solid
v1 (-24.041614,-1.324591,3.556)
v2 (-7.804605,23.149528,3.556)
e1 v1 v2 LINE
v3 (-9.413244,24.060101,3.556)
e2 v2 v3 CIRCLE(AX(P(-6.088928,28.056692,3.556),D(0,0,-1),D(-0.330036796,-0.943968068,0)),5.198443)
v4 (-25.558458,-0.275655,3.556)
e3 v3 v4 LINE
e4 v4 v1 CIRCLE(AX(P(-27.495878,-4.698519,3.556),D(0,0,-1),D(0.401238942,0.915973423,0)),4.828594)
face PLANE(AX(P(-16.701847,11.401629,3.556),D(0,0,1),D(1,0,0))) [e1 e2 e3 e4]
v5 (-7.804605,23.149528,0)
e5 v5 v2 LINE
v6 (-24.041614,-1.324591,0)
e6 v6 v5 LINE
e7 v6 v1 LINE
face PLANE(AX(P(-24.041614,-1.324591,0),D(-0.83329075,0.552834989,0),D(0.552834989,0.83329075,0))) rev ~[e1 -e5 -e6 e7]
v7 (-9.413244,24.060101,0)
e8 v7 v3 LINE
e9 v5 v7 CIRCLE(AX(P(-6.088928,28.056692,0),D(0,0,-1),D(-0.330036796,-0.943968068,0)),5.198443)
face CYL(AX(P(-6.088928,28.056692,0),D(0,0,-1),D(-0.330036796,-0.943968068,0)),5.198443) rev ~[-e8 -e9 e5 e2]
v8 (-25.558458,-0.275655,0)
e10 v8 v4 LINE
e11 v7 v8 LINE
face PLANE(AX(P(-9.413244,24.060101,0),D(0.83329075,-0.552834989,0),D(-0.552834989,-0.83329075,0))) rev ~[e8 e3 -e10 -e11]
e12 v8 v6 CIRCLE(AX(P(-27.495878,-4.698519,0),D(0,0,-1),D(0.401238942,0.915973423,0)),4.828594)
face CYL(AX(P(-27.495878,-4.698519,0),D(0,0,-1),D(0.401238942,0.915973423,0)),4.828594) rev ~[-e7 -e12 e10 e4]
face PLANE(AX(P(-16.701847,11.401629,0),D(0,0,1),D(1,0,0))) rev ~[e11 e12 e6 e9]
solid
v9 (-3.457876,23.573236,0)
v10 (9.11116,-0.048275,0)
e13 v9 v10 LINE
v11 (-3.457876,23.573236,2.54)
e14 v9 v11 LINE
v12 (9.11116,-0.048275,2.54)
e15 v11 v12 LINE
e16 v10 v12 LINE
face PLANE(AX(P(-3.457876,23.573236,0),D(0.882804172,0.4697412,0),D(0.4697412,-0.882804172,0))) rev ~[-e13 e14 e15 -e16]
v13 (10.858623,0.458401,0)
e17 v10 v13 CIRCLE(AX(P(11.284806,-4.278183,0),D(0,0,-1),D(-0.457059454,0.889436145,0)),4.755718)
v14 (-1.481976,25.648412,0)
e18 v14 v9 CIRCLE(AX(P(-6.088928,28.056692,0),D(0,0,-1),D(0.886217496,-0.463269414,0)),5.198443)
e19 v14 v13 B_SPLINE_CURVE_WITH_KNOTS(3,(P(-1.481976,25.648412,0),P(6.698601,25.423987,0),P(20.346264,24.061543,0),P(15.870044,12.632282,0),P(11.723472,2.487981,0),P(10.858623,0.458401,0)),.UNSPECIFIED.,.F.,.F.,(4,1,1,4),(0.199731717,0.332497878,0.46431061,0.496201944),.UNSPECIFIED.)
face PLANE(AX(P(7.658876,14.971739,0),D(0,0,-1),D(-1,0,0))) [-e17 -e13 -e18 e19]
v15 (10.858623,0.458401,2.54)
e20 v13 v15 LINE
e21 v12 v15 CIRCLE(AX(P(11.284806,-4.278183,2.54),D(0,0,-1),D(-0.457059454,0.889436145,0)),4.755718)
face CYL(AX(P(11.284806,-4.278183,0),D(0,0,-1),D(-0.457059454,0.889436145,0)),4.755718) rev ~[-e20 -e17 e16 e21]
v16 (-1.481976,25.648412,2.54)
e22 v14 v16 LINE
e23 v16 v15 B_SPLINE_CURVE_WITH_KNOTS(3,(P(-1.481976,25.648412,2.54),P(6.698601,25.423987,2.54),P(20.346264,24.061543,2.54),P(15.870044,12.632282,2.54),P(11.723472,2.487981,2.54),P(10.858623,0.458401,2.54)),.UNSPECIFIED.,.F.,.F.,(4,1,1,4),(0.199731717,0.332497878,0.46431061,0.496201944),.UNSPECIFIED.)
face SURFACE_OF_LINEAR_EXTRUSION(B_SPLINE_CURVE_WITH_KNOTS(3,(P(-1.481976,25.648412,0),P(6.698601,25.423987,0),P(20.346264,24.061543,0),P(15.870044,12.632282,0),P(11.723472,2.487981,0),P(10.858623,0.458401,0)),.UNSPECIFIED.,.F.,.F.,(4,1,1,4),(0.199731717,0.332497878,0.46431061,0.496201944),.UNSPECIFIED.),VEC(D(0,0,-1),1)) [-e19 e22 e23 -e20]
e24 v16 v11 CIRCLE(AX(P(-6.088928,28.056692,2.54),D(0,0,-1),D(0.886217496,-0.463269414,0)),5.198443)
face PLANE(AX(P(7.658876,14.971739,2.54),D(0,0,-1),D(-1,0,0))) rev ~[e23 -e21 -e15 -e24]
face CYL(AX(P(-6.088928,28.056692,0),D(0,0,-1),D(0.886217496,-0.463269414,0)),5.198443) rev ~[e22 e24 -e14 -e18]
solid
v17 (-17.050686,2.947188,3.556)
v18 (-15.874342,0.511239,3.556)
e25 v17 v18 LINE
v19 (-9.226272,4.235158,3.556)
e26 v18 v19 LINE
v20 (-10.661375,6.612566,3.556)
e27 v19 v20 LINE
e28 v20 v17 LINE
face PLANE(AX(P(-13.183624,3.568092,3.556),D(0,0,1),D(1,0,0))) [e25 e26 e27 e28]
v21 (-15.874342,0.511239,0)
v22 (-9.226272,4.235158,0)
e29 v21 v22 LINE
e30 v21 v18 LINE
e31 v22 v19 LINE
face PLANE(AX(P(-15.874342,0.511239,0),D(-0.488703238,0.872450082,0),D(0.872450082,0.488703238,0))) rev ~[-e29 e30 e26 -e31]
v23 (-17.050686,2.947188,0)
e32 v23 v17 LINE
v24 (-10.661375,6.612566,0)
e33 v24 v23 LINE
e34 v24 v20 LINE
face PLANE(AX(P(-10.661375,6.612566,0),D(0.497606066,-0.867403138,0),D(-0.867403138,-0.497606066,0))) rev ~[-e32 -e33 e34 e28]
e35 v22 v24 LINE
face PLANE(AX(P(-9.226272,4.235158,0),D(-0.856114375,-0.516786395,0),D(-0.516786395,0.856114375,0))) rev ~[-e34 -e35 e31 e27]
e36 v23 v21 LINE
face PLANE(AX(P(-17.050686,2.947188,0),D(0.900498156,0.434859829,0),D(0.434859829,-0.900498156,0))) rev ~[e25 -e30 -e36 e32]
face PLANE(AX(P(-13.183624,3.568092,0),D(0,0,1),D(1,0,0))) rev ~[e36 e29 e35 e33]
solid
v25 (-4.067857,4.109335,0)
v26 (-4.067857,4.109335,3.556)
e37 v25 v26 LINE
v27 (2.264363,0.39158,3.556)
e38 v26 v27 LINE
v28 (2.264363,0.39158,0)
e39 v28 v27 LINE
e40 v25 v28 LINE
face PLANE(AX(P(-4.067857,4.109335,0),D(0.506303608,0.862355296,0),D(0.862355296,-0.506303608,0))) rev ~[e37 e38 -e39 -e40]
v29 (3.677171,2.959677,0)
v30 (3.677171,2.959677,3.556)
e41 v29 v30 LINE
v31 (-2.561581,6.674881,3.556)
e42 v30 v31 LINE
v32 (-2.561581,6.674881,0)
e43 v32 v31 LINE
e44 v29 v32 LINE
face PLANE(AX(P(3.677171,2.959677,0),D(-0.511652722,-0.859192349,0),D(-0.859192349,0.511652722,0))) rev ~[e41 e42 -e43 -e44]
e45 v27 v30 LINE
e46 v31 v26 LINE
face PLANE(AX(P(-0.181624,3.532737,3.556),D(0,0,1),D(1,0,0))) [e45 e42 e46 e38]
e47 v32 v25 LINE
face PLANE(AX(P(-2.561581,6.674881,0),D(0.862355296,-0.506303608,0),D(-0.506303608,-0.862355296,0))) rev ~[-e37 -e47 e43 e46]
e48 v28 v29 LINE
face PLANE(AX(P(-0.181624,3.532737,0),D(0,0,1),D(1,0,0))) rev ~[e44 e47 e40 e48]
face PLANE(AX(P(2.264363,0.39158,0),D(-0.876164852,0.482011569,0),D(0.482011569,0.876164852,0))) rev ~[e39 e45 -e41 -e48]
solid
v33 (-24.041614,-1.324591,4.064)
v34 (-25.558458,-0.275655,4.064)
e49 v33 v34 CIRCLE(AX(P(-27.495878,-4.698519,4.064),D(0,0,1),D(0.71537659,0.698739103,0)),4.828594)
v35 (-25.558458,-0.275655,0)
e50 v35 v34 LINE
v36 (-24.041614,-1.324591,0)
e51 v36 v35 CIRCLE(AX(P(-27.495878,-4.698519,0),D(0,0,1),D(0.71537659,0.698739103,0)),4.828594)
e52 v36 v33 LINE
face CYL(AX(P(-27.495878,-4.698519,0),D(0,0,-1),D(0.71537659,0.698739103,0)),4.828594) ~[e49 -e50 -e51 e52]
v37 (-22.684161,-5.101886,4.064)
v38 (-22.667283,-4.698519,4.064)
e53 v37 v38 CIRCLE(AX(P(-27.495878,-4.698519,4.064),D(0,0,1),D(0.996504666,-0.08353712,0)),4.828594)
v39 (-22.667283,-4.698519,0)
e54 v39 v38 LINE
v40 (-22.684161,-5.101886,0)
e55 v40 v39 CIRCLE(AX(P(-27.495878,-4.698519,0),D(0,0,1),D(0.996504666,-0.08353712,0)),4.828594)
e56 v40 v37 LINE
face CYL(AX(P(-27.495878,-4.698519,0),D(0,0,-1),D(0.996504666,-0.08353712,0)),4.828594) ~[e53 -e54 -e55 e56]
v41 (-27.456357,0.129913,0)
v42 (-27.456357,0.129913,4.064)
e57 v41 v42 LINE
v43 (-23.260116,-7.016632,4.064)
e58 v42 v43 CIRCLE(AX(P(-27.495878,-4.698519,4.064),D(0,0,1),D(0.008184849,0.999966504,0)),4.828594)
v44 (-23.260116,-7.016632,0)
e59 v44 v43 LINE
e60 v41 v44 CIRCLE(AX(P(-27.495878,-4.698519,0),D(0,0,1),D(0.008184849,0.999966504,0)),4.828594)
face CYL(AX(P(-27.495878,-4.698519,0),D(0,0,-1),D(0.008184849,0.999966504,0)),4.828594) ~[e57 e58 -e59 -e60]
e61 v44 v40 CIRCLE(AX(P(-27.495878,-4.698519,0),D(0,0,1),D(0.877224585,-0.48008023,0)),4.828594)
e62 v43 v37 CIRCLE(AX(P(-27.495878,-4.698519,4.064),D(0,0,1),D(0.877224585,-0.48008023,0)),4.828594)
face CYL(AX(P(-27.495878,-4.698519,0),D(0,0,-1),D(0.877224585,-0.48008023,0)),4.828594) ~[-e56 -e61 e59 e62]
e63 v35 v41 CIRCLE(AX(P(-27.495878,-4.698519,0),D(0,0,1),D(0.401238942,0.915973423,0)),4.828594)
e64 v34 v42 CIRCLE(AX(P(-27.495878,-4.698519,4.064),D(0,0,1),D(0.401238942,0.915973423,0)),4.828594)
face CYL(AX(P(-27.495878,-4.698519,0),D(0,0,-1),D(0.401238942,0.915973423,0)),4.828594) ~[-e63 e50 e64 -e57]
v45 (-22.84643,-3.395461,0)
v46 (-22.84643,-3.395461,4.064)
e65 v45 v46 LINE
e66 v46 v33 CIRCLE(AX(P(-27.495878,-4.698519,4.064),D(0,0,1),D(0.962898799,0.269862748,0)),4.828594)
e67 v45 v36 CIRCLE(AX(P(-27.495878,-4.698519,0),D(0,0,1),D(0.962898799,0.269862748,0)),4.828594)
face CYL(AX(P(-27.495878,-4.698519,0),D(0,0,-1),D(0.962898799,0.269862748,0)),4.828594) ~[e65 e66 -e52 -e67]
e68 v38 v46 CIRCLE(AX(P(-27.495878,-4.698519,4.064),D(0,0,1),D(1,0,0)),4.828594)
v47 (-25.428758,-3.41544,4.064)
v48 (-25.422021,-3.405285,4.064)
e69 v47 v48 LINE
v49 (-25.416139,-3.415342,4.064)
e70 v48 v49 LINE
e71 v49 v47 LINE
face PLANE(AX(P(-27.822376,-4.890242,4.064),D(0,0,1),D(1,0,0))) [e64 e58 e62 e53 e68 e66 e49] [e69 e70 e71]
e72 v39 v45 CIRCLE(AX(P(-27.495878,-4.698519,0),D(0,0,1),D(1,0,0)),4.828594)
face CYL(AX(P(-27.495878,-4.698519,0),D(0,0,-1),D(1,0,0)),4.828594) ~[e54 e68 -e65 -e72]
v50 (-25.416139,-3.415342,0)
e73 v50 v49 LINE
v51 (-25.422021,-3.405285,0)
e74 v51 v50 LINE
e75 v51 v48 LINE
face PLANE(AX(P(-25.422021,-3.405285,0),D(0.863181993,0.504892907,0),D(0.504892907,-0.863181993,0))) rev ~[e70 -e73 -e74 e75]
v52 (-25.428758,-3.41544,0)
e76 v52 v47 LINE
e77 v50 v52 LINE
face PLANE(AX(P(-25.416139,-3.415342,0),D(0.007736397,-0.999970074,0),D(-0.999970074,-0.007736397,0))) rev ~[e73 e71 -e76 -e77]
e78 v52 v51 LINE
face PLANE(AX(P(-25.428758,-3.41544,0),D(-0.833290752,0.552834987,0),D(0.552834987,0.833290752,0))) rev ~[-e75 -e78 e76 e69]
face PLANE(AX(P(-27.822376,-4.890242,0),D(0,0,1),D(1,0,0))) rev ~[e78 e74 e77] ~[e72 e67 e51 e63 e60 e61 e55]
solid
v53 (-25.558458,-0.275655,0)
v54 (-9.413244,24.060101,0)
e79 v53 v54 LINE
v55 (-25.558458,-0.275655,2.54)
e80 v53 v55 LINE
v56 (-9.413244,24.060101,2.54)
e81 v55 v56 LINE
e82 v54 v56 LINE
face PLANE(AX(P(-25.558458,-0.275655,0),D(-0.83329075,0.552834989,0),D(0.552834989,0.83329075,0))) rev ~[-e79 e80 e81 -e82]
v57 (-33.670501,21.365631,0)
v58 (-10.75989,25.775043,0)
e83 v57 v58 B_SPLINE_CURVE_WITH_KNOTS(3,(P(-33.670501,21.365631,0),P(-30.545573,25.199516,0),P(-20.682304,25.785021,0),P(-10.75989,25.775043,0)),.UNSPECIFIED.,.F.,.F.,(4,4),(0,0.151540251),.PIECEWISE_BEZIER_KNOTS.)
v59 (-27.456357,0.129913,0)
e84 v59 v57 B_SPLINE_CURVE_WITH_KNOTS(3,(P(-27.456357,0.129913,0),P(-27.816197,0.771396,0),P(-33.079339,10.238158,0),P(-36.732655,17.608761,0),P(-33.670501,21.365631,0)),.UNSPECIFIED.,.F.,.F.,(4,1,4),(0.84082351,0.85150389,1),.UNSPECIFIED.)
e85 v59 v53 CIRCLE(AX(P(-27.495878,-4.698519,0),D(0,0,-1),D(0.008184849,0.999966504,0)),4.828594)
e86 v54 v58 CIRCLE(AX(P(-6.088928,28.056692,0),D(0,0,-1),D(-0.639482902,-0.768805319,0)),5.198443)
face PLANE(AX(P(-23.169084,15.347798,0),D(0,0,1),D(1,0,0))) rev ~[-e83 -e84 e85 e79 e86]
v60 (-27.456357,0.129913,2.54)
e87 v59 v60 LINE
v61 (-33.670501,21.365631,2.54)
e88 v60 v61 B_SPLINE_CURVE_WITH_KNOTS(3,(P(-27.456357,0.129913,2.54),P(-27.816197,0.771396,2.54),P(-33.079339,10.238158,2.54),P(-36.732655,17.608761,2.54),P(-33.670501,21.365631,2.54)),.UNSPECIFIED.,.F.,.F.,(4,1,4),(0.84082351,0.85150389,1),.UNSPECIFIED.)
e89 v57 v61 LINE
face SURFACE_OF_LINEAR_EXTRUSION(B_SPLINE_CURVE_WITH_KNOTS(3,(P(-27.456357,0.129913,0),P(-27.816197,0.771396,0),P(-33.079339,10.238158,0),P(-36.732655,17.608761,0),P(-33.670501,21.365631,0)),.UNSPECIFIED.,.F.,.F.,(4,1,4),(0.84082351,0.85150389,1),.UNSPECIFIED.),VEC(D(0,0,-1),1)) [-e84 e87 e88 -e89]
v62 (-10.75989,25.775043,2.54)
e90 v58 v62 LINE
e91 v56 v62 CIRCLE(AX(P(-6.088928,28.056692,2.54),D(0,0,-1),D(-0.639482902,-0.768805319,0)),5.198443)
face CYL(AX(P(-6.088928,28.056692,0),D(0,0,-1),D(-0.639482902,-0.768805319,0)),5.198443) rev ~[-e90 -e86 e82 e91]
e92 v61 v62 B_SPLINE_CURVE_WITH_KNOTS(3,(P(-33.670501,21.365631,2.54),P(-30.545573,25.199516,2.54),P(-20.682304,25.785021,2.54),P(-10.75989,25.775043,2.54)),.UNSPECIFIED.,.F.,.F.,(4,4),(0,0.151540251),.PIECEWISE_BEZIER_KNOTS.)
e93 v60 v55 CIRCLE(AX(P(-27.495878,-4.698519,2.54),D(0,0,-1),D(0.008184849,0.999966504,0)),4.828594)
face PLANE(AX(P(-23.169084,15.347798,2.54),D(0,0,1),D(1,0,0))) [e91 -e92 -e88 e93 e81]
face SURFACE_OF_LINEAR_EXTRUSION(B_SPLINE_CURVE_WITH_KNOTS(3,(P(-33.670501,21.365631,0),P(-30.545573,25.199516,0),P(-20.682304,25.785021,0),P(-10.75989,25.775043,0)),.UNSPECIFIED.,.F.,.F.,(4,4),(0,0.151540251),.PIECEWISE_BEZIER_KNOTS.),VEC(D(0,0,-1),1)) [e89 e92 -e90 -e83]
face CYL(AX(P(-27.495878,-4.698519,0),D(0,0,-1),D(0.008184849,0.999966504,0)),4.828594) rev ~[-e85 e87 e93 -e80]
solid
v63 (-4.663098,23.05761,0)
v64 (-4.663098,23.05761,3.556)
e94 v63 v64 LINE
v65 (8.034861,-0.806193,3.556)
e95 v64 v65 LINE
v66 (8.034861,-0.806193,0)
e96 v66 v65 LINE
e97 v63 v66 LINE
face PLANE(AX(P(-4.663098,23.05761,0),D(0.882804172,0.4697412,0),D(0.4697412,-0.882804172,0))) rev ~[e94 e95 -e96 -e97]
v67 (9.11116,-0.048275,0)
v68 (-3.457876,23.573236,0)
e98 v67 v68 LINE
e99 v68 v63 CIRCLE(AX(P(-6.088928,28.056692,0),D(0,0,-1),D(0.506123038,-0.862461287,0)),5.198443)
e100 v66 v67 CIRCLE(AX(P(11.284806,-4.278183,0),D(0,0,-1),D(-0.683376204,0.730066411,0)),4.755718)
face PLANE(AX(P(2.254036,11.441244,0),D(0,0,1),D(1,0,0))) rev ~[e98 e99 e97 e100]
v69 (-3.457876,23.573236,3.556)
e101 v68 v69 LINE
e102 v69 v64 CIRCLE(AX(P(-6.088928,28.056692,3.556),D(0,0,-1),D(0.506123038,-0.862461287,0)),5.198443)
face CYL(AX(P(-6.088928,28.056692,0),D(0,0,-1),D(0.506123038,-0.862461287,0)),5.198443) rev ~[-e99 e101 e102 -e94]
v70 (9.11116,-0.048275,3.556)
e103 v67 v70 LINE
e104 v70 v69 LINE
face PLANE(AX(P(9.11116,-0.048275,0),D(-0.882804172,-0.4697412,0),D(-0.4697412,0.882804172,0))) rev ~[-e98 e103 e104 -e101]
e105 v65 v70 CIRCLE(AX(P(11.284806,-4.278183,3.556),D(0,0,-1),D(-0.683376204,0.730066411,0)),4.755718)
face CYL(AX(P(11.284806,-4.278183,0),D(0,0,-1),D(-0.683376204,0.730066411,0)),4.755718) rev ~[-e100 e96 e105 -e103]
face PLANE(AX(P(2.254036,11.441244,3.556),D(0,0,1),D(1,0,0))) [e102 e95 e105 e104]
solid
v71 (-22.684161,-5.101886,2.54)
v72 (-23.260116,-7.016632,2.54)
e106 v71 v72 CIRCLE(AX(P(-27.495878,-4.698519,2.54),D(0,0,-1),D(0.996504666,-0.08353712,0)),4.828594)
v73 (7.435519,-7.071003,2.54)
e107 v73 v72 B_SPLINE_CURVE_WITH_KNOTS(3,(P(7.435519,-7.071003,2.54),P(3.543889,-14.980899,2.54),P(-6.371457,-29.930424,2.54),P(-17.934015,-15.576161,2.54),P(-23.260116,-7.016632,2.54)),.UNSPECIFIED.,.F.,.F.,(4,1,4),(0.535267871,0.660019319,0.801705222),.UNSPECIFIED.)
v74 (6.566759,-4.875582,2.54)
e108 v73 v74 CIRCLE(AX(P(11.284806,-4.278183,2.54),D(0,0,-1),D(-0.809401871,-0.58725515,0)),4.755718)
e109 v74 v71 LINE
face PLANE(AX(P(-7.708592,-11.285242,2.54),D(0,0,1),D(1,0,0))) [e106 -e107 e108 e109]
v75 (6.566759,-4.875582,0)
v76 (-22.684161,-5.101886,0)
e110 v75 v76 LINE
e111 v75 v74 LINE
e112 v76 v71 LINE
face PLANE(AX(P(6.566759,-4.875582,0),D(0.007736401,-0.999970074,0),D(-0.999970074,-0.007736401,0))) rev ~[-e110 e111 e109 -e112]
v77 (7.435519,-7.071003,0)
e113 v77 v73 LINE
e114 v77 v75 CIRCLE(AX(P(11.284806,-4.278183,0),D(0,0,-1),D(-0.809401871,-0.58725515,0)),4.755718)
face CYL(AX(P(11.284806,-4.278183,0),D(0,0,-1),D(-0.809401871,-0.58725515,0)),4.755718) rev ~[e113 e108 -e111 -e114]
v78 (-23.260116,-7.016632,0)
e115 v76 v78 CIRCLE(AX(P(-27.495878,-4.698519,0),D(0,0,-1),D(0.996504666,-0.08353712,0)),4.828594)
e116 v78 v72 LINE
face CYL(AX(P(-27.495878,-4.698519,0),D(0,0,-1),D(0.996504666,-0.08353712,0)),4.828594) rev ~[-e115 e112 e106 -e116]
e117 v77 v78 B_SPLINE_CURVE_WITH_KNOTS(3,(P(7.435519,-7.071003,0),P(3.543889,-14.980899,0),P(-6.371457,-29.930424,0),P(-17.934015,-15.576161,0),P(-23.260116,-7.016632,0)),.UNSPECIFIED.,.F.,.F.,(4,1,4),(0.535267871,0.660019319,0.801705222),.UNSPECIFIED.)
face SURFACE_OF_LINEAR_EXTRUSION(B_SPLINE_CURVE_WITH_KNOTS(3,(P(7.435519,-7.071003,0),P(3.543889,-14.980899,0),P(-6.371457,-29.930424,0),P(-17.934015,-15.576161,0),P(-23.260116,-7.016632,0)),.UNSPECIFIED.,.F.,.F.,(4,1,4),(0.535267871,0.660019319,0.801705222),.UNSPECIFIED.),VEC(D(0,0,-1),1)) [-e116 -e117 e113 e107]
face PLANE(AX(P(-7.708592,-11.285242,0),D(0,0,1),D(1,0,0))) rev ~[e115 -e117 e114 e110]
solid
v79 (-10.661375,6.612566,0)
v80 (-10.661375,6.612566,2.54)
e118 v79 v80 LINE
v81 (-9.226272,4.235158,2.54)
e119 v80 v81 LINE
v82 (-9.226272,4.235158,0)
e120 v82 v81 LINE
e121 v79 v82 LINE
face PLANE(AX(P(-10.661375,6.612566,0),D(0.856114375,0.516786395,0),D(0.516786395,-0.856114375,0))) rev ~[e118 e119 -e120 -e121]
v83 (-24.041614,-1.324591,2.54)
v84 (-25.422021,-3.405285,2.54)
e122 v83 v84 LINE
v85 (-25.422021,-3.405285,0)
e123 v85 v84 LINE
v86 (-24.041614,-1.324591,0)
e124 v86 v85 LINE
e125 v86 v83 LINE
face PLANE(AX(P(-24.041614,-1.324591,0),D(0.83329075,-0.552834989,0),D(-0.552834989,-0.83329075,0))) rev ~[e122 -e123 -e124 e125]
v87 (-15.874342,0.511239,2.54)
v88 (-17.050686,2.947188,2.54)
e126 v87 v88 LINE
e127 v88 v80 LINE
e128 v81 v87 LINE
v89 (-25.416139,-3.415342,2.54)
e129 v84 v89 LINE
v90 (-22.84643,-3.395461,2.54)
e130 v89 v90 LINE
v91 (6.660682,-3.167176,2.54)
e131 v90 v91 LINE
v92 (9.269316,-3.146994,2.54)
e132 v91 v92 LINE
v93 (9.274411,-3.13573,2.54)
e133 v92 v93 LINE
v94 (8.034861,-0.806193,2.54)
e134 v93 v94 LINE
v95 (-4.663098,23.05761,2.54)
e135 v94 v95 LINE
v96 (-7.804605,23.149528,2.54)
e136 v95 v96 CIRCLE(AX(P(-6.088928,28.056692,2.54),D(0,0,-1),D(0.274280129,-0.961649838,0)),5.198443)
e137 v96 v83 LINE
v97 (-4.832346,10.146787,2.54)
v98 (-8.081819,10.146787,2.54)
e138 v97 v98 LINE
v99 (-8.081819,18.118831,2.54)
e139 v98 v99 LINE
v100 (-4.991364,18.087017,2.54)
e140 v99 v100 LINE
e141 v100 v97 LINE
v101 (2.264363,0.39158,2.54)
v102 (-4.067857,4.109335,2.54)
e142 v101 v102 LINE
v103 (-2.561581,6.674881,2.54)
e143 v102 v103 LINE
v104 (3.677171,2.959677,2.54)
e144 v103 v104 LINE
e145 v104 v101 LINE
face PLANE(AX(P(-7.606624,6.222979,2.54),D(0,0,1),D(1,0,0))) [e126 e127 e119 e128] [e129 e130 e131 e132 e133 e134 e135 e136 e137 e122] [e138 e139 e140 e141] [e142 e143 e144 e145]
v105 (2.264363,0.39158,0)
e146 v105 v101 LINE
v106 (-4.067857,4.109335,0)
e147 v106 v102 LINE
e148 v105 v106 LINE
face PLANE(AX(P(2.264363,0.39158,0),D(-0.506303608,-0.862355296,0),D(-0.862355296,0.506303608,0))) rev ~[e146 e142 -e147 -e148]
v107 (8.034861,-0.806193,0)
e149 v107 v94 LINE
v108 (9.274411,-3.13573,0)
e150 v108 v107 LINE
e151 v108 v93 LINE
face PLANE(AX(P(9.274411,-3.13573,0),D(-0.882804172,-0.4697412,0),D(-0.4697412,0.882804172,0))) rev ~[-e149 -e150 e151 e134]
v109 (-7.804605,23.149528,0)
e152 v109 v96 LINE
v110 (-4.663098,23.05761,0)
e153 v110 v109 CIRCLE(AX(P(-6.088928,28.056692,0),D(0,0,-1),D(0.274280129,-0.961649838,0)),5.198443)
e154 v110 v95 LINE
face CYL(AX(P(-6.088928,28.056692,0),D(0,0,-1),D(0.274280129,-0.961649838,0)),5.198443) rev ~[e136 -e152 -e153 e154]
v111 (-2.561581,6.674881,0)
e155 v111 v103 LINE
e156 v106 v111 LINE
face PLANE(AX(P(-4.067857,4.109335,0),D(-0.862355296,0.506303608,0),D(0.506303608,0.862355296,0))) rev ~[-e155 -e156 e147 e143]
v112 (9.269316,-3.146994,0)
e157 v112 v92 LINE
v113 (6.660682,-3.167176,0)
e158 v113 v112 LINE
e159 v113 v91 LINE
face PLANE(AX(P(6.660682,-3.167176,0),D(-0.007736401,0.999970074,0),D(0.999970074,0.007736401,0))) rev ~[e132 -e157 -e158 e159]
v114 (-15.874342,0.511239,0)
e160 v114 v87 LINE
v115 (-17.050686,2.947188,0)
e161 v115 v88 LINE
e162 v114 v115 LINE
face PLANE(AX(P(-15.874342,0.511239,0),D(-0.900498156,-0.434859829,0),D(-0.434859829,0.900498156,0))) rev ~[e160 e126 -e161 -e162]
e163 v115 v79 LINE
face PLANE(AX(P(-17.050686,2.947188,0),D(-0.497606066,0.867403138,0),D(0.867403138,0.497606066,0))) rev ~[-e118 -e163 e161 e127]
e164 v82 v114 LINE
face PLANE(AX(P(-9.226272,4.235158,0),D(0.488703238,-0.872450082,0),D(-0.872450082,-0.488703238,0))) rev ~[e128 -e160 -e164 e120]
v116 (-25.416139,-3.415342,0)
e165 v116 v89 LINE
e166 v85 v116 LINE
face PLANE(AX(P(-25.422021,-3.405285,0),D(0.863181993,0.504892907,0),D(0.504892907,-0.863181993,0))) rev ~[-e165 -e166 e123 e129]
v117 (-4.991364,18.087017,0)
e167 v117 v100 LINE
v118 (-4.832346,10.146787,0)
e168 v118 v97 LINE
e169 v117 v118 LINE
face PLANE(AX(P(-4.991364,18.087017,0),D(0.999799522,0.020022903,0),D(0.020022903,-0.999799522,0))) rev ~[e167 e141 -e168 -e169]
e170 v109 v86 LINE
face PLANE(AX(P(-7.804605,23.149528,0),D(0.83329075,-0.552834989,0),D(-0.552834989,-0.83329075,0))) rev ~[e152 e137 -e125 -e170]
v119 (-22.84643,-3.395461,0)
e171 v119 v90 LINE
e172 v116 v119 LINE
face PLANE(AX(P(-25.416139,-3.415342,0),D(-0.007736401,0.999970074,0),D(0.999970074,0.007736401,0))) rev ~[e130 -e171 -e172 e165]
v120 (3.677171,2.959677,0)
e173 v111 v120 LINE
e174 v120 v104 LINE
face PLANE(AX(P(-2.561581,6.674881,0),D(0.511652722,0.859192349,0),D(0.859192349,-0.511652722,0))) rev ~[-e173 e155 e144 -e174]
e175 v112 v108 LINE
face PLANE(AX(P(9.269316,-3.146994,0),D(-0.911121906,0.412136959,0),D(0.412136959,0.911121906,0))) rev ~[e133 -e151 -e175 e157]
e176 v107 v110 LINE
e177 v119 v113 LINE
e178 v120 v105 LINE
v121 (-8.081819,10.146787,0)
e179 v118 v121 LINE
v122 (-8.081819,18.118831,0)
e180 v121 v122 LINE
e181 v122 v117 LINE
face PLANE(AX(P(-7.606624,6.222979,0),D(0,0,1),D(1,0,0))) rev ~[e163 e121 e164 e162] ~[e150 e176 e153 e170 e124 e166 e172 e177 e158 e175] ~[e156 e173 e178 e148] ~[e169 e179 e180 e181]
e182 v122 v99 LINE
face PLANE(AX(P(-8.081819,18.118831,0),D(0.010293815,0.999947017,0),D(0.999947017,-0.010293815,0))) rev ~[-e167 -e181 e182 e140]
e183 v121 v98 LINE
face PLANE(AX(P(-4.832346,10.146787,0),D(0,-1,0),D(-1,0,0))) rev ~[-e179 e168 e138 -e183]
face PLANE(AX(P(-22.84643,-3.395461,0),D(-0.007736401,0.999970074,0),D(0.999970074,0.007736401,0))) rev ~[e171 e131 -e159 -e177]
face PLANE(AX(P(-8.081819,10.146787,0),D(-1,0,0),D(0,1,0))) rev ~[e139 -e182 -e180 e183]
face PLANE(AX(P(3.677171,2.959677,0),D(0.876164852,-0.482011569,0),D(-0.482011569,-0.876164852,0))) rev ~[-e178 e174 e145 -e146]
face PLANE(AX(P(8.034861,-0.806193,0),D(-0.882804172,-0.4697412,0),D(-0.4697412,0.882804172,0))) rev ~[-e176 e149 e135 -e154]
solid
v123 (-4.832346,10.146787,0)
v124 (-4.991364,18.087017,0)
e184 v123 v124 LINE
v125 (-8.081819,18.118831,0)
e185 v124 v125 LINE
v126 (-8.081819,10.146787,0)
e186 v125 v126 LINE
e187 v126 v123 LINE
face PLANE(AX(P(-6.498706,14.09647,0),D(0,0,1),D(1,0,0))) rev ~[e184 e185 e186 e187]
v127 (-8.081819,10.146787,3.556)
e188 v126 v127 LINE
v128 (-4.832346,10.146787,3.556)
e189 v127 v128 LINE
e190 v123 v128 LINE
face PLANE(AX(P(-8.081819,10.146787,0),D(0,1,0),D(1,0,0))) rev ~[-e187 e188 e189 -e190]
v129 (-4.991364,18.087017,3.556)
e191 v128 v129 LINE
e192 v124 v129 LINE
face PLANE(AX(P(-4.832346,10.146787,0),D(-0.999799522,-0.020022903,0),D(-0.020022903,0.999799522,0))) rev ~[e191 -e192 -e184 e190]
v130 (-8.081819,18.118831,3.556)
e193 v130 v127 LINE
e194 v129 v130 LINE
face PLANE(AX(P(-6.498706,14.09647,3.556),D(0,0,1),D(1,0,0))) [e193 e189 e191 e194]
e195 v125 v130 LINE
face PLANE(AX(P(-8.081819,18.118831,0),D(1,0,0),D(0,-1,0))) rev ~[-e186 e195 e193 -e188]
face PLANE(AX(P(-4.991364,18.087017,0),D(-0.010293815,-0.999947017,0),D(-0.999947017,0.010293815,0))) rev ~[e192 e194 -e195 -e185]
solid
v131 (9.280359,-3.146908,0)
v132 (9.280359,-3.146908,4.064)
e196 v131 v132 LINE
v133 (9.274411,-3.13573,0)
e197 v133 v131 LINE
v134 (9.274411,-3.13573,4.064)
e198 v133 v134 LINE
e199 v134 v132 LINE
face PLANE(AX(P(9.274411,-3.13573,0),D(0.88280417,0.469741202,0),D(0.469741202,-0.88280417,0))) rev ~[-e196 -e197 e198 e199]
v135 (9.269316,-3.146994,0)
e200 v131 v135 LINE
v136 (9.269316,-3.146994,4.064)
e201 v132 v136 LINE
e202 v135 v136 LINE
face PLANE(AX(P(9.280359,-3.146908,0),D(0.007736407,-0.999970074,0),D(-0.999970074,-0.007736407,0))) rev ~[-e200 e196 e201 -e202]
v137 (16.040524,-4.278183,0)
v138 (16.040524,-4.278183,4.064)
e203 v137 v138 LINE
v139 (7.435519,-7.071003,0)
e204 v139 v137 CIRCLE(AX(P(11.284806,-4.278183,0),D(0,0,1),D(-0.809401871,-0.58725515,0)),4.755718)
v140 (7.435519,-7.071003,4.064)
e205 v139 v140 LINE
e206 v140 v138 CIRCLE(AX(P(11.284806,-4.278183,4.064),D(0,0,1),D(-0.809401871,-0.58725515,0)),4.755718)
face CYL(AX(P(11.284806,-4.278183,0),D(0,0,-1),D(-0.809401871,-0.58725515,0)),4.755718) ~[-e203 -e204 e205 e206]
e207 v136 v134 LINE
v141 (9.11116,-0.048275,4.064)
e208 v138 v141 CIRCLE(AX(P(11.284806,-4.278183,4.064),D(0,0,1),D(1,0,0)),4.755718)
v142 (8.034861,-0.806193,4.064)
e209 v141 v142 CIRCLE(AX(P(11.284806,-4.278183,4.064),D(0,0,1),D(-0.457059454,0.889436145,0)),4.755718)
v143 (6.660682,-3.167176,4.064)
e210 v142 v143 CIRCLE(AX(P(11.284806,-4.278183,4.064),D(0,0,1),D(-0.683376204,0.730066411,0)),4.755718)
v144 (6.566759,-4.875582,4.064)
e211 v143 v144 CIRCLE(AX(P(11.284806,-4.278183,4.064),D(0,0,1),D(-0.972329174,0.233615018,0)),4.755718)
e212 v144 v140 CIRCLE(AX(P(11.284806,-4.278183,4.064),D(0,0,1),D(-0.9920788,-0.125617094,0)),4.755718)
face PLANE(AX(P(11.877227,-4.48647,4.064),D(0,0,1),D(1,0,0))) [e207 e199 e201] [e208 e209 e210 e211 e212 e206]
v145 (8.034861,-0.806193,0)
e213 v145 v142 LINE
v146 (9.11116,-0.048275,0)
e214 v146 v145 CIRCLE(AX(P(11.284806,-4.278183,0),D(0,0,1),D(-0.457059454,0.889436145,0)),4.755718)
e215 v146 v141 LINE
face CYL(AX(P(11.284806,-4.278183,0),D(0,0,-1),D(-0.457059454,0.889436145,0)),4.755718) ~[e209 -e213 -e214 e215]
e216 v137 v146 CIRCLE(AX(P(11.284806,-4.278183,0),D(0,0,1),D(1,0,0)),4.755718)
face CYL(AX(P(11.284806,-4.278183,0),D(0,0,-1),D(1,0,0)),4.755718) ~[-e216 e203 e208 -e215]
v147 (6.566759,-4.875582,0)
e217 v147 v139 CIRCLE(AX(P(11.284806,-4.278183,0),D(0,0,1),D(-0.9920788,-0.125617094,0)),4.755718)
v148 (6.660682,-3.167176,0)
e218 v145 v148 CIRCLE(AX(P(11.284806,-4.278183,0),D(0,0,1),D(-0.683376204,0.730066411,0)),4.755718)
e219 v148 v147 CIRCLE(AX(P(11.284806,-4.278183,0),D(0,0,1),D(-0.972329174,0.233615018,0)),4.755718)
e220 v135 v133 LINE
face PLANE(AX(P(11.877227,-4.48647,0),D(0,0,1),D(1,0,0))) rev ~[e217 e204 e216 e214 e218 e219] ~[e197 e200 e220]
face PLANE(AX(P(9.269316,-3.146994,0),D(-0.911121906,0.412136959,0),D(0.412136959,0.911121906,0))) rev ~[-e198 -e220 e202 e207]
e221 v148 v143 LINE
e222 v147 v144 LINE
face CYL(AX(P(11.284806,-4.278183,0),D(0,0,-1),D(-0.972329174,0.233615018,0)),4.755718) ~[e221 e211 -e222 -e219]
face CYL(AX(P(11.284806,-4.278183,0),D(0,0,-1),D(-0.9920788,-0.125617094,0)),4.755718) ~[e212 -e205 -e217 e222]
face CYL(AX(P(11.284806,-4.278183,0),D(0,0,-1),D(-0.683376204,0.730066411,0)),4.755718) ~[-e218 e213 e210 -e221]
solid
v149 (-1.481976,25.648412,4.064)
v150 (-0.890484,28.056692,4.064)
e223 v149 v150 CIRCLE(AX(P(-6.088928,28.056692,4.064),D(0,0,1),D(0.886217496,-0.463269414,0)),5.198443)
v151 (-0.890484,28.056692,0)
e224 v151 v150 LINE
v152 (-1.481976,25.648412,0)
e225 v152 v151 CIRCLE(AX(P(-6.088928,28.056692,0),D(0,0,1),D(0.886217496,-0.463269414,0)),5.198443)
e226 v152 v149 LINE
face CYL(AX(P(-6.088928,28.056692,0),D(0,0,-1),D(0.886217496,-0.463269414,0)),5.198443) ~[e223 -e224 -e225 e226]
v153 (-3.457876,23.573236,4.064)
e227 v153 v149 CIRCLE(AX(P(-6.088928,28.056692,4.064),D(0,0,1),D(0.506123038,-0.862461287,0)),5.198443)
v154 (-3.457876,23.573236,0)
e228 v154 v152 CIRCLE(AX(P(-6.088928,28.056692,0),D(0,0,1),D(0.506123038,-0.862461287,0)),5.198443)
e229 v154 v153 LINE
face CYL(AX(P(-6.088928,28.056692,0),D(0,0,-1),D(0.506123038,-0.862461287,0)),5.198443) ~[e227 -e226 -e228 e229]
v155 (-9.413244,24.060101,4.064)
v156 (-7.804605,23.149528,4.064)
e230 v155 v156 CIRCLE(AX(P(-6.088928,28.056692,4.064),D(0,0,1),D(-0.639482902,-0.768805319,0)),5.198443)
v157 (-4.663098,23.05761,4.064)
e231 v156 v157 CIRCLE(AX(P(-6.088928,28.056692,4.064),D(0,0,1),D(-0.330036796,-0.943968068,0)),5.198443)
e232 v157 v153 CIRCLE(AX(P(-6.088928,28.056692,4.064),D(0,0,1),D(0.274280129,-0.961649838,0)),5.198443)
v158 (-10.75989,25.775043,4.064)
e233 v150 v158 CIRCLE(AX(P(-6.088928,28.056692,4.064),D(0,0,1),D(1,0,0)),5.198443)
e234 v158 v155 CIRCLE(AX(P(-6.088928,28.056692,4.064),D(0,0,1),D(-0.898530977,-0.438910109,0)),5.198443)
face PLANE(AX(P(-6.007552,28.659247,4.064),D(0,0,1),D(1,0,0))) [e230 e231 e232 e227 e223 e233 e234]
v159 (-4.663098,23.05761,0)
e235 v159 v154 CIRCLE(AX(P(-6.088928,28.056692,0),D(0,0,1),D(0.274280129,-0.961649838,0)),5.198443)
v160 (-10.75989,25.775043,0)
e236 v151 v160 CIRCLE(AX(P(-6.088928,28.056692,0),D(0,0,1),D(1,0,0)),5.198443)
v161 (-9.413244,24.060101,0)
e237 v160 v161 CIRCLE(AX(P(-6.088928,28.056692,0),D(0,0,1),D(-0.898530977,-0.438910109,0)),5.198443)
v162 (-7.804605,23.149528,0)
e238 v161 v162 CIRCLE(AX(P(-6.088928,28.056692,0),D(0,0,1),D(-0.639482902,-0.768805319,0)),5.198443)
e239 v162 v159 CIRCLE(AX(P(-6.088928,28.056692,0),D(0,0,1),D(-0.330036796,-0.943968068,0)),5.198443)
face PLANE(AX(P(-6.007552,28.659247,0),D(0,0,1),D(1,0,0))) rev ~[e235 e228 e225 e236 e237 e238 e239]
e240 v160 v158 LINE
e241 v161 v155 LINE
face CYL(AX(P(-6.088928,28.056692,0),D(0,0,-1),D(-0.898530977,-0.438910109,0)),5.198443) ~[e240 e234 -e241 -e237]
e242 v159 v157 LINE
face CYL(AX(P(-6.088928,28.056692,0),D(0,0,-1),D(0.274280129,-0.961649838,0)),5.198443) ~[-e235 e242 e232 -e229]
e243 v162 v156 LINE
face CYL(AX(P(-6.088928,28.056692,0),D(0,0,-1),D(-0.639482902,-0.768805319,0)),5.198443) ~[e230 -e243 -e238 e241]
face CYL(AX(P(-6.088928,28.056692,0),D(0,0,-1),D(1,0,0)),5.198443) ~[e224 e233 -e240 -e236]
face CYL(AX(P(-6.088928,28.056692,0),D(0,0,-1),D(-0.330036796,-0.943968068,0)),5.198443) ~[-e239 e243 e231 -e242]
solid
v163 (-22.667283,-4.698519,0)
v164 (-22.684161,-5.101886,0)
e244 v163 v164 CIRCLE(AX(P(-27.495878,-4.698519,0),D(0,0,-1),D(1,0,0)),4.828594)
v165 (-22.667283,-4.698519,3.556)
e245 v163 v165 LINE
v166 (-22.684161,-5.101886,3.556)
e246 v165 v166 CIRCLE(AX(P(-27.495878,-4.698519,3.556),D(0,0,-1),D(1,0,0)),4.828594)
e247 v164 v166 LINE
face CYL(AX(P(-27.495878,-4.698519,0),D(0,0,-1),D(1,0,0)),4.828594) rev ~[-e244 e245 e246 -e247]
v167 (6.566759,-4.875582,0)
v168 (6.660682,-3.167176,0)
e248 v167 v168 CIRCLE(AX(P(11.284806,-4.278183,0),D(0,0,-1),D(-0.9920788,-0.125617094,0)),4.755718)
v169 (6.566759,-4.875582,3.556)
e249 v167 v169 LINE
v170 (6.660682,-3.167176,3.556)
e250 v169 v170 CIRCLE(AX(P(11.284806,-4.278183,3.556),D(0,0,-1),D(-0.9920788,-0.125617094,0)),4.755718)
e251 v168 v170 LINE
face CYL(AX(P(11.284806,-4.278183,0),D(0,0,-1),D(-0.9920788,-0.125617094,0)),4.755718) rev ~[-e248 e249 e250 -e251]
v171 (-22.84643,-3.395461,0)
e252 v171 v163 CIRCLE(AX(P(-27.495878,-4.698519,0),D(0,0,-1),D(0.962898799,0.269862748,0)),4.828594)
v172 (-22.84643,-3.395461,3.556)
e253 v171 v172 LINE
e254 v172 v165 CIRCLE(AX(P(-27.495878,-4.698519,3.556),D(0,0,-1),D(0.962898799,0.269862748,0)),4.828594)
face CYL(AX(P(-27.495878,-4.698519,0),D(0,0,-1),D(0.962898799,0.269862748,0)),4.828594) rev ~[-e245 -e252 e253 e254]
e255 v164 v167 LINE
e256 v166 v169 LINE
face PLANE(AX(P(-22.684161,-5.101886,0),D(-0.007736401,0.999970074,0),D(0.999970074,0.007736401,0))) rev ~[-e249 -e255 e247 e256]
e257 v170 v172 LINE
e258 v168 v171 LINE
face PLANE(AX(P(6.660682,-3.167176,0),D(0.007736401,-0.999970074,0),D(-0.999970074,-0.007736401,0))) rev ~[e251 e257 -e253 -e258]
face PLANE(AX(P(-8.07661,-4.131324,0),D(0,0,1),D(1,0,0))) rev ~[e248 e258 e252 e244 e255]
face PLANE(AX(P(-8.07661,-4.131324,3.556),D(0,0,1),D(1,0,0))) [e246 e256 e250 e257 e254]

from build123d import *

# Parameters (mm, degrees)
F1_DEPTH = 2.54
F2_DEPTH = 3.556
F3_DEPTH = 4.064


with BuildPart() as f1:
    # F0 (on Top) → F1 (new body)
    with BuildSketch(Plane.XY):
        with BuildLine():
            ThreePointArc((-4.6630981009, 23.0576099927), (-6.2409645721, 22.860472595), (-7.8046054884, 23.1495276747))
            Line((-7.8046054884, 23.1495276747), (-24.0416144553, -1.3245914444))
            ThreePointArc((-24.0416144553, -1.3245914444), (-23.3138138733, -2.2848777795), (-22.8464301162, -3.3954613901))
            Line((-22.8464301162, -3.3954613901), (6.6606822161, -3.1671756941))
            ThreePointArc((6.6606822161, -3.1671756941), (7.1745992451, -1.8858915335), (8.0348610996, -0.8061928003))
            Line((8.0348610996, -0.8061928003), (-4.6630981009, 23.0576099927))
        make_face()
        Polygon((-15.8743415506, 0.51123949), (-17.0506863953, 2.947188482), (-10.6613747776, 6.6125662997), (-9.2262719276, 4.2351581635), align=None, mode=Mode.SUBTRACT)
        Polygon((-4.0678573438, 4.1093348098), (-2.5615811887, 6.6748808586), (3.6771709565, 2.9596772511), (2.264362858, 0.3915795571), align=None, mode=Mode.SUBTRACT)
        Polygon((-8.0818189308, 10.1467873901), (-8.0818189308, 18.1188309025), (-4.9913643151, 18.0870166502), (-4.8323459923, 10.1467873901), align=None, mode=Mode.SUBTRACT)
        with BuildLine():
            Line((9.2744107453, -3.1357299984), (8.0348610996, -0.8061928003))
            ThreePointArc((8.0348610996, -0.8061928003), (7.1745992451, -1.8858915335), (6.6606822161, -3.1671756941))
            Line((6.6606822161, -3.1671756941), (9.2693157423, -3.1469936542))
            Line((9.2693157423, -3.1469936542), (9.2744107453, -3.1357299984))
        make_face()
        with BuildLine():
            ThreePointArc((-22.8464301162, -3.3954613901), (-23.3138138733, -2.2848777795), (-24.0416144553, -1.3245914444))
            Line((-24.0416144553, -1.3245914444), (-25.4220212793, -3.4052850691))
            Line((-25.4220212793, -3.4052850691), (-25.4161386089, -3.4153422814))
            Line((-25.4161386089, -3.4153422814), (-22.8464301162, -3.3954613901))
        make_face()
    extrude(amount=F1_DEPTH)


with BuildPart() as f1b:
    # F0 (on Top) → F1, piece 2 (new body)
    with BuildSketch(Plane.XY):
        with BuildLine():
            add(Edge.make_bspline(
                [(-1.4819762816, 25.6484124624), (6.6986011106, 25.4239870709), (20.3462642446, 24.0615429755), (15.8700444117, 12.6322818513), (11.7234724765, 2.4879806788), (10.8586227713, 0.4584006141)],
                knots=[0.1997317172, 0.1997317172, 0.1997317172, 0.1997317172, 0.3324978777, 0.4643106101, 0.4962019436, 0.4962019436, 0.4962019436, 0.4962019436], degree=3))
            ThreePointArc((-1.4819762816, 25.6484124624), (-2.3241219854, 24.471995484), (-3.457875844, 23.5732360714))
            Line((-3.457875844, 23.5732360714), (9.1111597711, -0.0482752659))
            ThreePointArc((9.1111597711, -0.0482752659), (9.9604350443, 0.2894092027), (10.8586227713, 0.4584006141))
        make_face()
    extrude(amount=F1_DEPTH)


with BuildPart() as f1c:
    # F0 (on Top) → F1, piece 3 (new body)
    with BuildSketch(Plane.XY):
        with BuildLine():
            ThreePointArc((-22.6841610167, -5.1018859941), (-22.8719423093, -6.0893979217), (-23.2601161425, -7.0166318167))
            add(Edge.make_bspline(
                [(7.4355185476, -7.0710028411), (3.5438886247, -14.9808993579), (-6.3714566512, -29.9304237376), (-17.9340153002, -15.5761614263), (-23.2601161425, -7.0166318167)],
                knots=[0.535267871, 0.535267871, 0.535267871, 0.535267871, 0.6600193188, 0.8017052217, 0.8017052217, 0.8017052217, 0.8017052217], degree=3))
            ThreePointArc((7.4355185476, -7.0710028411), (6.8627279114, -6.02806372), (6.566758563, -4.8755823674))
            Line((6.566758563, -4.8755823674), (-22.6841610167, -5.1018859941))
        make_face()
    extrude(amount=F1_DEPTH)


with BuildPart() as f1d:
    # F0 (on Top) → F1, piece 4 (new body)
    with BuildSketch(Plane.XY):
        with BuildLine():
            ThreePointArc((-9.413243583, 24.0601013281), (-10.1774941911, 24.846172121), (-10.7598903606, 25.7750429329))
            add(Edge.make_bspline(
                [(-33.6705009619, 21.3656310089), (-30.5455731412, 25.1995157512), (-20.6823038995, 25.7850214095), (-10.7598903606, 25.7750429329)],
                knots=[0, 0, 0, 0, 0.1515402513, 0.1515402513, 0.1515402513, 0.1515402513], degree=3))
            add(Edge.make_bspline(
                [(-27.4563565011, 0.12991348), (-27.8161971008, 0.771396026), (-33.0793394315, 10.2381580049), (-36.7326552198, 17.6087613589), (-33.6705009619, 21.3656310089)],
                knots=[0.8408235096, 0.8408235096, 0.8408235096, 0.8408235096, 0.8515038899, 1, 1, 1, 1], degree=3))
            ThreePointArc((-27.4563565011, 0.12991348), (-26.4868209399, 0.0234643115), (-25.5584577312, -0.2756550339))
            Line((-25.5584577312, -0.2756550339), (-9.413243583, 24.0601013281))
        make_face()
    extrude(amount=F1_DEPTH)


with BuildPart() as f2:
    # F0 (on Top) → F2 (new body)
    with BuildSketch(Plane.XY):
        with BuildLine():
            ThreePointArc((-7.8046054884, 23.1495276747), (-8.6497225296, 23.5327399286), (-9.413243583, 24.0601013281))
            Line((-9.413243583, 24.0601013281), (-25.5584577312, -0.2756550339))
            ThreePointArc((-25.5584577312, -0.2756550339), (-24.7494930119, -0.7270340296), (-24.0416144553, -1.3245914444))
            Line((-24.0416144553, -1.3245914444), (-7.8046054884, 23.1495276747))
        make_face()
    extrude(amount=F2_DEPTH)


with BuildPart() as f2b:
    # F0 (on Top) → F2, piece 2 (new body)
    with BuildSketch(Plane.XY):
        with BuildLine():
            ThreePointArc((-3.457875844, 23.5732360714), (-4.044168706, 23.2772807838), (-4.6630981009, 23.0576099927))
            Line((-4.6630981009, 23.0576099927), (8.0348610996, -0.8061928003))
            ThreePointArc((8.0348610996, -0.8061928003), (8.5466597389, -0.3898141051), (9.1111597711, -0.0482752659))
            Line((9.1111597711, -0.0482752659), (-3.457875844, 23.5732360714))
        make_face()
    extrude(amount=F2_DEPTH)


with BuildPart() as f2c:
    # F0 (on Top) → F2, piece 3 (new body)
    with BuildSketch(Plane.XY):
        with BuildLine():
            Line((6.6606822161, -3.1671756941), (-22.8464301162, -3.3954613901))
            ThreePointArc((-22.8464301162, -3.3954613901), (-22.7122797835, -4.0408617349), (-22.6672834673, -4.6985191293))
            ThreePointArc((-22.6672834673, -4.6985191293), (-22.6715046998, -4.9003790308), (-22.6841610167, -5.1018859941))
            Line((-22.6841610167, -5.1018859941), (6.566758563, -4.8755823674))
            ThreePointArc((6.566758563, -4.8755823674), (6.5362584152, -4.0171203775), (6.6606822161, -3.1671756941))
        make_face()
    extrude(amount=F2_DEPTH)


with BuildPart() as f2d:
    # F0 (on Top) → F2, piece 4 (new body)
    with BuildSketch(Plane.XY):
        Polygon((-4.9913643151, 18.0870166502), (-8.0818189308, 18.1188309025), (-8.0818189308, 10.1467873901), (-4.8323459923, 10.1467873901), align=None)
    extrude(amount=F2_DEPTH)


with BuildPart() as f2e:
    # F0 (on Top) → F2, piece 5 (new body)
    with BuildSketch(Plane.XY):
        Polygon((3.6771709565, 2.9596772511), (-2.5615811887, 6.6748808586), (-4.0678573438, 4.1093348098), (2.264362858, 0.3915795571), align=None)
    extrude(amount=F2_DEPTH)


with BuildPart() as f2f:
    # F0 (on Top) → F2, piece 6 (new body)
    with BuildSketch(Plane.XY):
        Polygon((-10.6613747776, 6.6125662997), (-17.0506863953, 2.947188482), (-15.8743415506, 0.51123949), (-9.2262719276, 4.2351581635), align=None)
    extrude(amount=F2_DEPTH)


with BuildPart() as f3:
    # F0 (on Top) → F3 (new body)
    with BuildSketch(Plane.XY):
        with BuildLine():
            add(Edge.make_bspline(
                [(-10.7598903606, 25.7750429329), (-9.9338328656, 25.7742122081), (-9.107365451, 25.7692542777), (-8.2843420404, 25.7616998728)],
                knots=[0.1515402513, 0.1515402513, 0.1515402513, 0.1515402513, 0.1641562302, 0.1641562302, 0.1641562302, 0.1641562302], degree=3))
            add(Edge.make_bspline(
                [(-8.2843420404, 25.7616998728), (-7.5487056314, 25.7549475798), (-6.8158206983, 25.7461209173), (-6.0884392904, 25.7363129654)],
                knots=[0.1641562302, 0.1641562302, 0.1641562302, 0.1641562302, 0.1754326694, 0.1754326694, 0.1754326694, 0.1754326694], degree=3))
            add(Edge.make_bspline(
                [(-6.0884392904, 25.7363129654), (-4.5210406381, 25.7151782893), (-2.979196963, 25.6894871105), (-1.4819762816, 25.6484124624)],
                knots=[0.1754326694, 0.1754326694, 0.1754326694, 0.1754326694, 0.1997317172, 0.1997317172, 0.1997317172, 0.1997317172], degree=3))
            ThreePointArc((-1.4819762816, 25.6484124624), (-1.0405225547, 26.8167654572), (-0.8904843638, 28.056692332))
            ThreePointArc((-0.8904843638, 28.056692332), (-7.2598420446, 33.121549159), (-10.7598903606, 25.7750429329))
        make_face()
        with BuildLine():
            add(Edge.make_bspline(
                [(-6.0884392904, 25.7363129654), (-4.5210406381, 25.7151782893), (-2.979196963, 25.6894871105), (-1.4819762816, 25.6484124624)],
                knots=[0.1754326694, 0.1754326694, 0.1754326694, 0.1754326694, 0.1997317172, 0.1997317172, 0.1997317172, 0.1997317172], degree=3))
            Line((-6.0884392904, 25.7363129654), (-4.6630981009, 23.0576099927))
            ThreePointArc((-4.6630981009, 23.0576099927), (-4.044168706, 23.2772807838), (-3.457875844, 23.5732360714))
            ThreePointArc((-3.457875844, 23.5732360714), (-2.3241219854, 24.471995484), (-1.4819762816, 25.6484124624))
        make_face()
        with BuildLine():
            add(Edge.make_bspline(
                [(-8.2843420404, 25.7616998728), (-7.5487056314, 25.7549475798), (-6.8158206983, 25.7461209173), (-6.0884392904, 25.7363129654)],
                knots=[0.1641562302, 0.1641562302, 0.1641562302, 0.1641562302, 0.1754326694, 0.1754326694, 0.1754326694, 0.1754326694], degree=3))
            Line((-8.2843420404, 25.7616998728), (-9.413243583, 24.0601013281))
            ThreePointArc((-9.413243583, 24.0601013281), (-8.6497225296, 23.5327399286), (-7.8046054884, 23.1495276747))
            Line((-7.8046054884, 23.1495276747), (-6.0884392904, 25.7363129654))
        make_face()
        with BuildLine():
            Line((-9.413243583, 24.0601013281), (-8.2843420404, 25.7616998728))
            add(Edge.make_bspline(
                [(-10.7598903606, 25.7750429329), (-9.9338328656, 25.7742122081), (-9.107365451, 25.7692542777), (-8.2843420404, 25.7616998728)],
                knots=[0.1515402513, 0.1515402513, 0.1515402513, 0.1515402513, 0.1641562302, 0.1641562302, 0.1641562302, 0.1641562302], degree=3))
            ThreePointArc((-10.7598903606, 25.7750429329), (-10.1774941911, 24.846172121), (-9.413243583, 24.0601013281))
        make_face()
        with BuildLine():
            Line((-4.6630981009, 23.0576099927), (-6.0884392904, 25.7363129654))
            Line((-6.0884392904, 25.7363129654), (-7.8046054884, 23.1495276747))
            ThreePointArc((-7.8046054884, 23.1495276747), (-6.2409645721, 22.860472595), (-4.6630981009, 23.0576099927))
        make_face()
    extrude(amount=F3_DEPTH)


with BuildPart() as f3b:
    # F0 (on Top) → F3, piece 2 (new body)
    with BuildSketch(Plane.XY):
        with BuildLine():
            ThreePointArc((16.040523848, -4.2781828726), (14.4933917754, -0.7679363751), (10.8586227713, 0.4584006141))
            add(Edge.make_bspline(
                [(10.8586227713, 0.4584006141), (10.5637178642, -0.2336654371), (10.2621792483, -0.9319358482), (9.9542651309, -1.6327582306)],
                knots=[0.4962019436, 0.4962019436, 0.4962019436, 0.4962019436, 0.5070765622, 0.5070765622, 0.5070765622, 0.5070765622], degree=3))
            add(Edge.make_bspline(
                [(9.9542651309, -1.6327582306), (9.7328930129, -2.1366082535), (9.5082255491, -2.6417773299), (9.2803586904, -3.1469082189)],
                knots=[0.5070765622, 0.5070765622, 0.5070765622, 0.5070765622, 0.5148947726, 0.5148947726, 0.5148947726, 0.5148947726], degree=3))
            add(Edge.make_bspline(
                [(9.2803586904, -3.1469082189), (9.0223449366, -3.7188681677), (8.7602292245, -4.2907791563), (8.4941508485, -4.8606708409)],
                knots=[0.5148947726, 0.5148947726, 0.5148947726, 0.5148947726, 0.523747336, 0.523747336, 0.523747336, 0.523747336], degree=3))
            add(Edge.make_bspline(
                [(8.4941508485, -4.8606708409), (8.1478821914, -5.6023155821), (7.794902423, -6.3405404588), (7.4355185476, -7.0710028411)],
                knots=[0.523747336, 0.523747336, 0.523747336, 0.523747336, 0.535267871, 0.535267871, 0.535267871, 0.535267871], degree=3))
            ThreePointArc((7.4355185476, -7.0710028411), (12.7529218904, -8.8016207134), (16.040523848, -4.2781828726))
        make_face()
        with BuildLine():
            add(Edge.make_bspline(
                [(10.8586227713, 0.4584006141), (10.5637178642, -0.2336654371), (10.2621792483, -0.9319358482), (9.9542651309, -1.6327582306)],
                knots=[0.4962019436, 0.4962019436, 0.4962019436, 0.4962019436, 0.5070765622, 0.5070765622, 0.5070765622, 0.5070765622], degree=3))
            ThreePointArc((10.8586227713, 0.4584006141), (9.9604350443, 0.2894092027), (9.1111597711, -0.0482752659))
            Line((9.1111597711, -0.0482752659), (9.9542651309, -1.6327582306))
        make_face()
        with BuildLine():
            ThreePointArc((9.1111597711, -0.0482752659), (8.5466597389, -0.3898141051), (8.0348610996, -0.8061928003))
            Line((8.0348610996, -0.8061928003), (9.2744107453, -3.1357299984))
            Line((9.2744107453, -3.1357299984), (9.9542651309, -1.6327582306))
            Line((9.9542651309, -1.6327582306), (9.1111597711, -0.0482752659))
        make_face()
        with BuildLine():
            Line((9.2744107453, -3.1357299984), (8.0348610996, -0.8061928003))
            ThreePointArc((8.0348610996, -0.8061928003), (7.1745992451, -1.8858915335), (6.6606822161, -3.1671756941))
            Line((6.6606822161, -3.1671756941), (9.2693157423, -3.1469936542))
            Line((9.2693157423, -3.1469936542), (9.2744107453, -3.1357299984))
        make_face()
        with BuildLine():
            Line((9.2693157423, -3.1469936542), (6.6606822161, -3.1671756941))
            ThreePointArc((6.6606822161, -3.1671756941), (6.5362584152, -4.0171203775), (6.566758563, -4.8755823674))
            Line((6.566758563, -4.8755823674), (8.4941508485, -4.8606708409))
            Line((8.4941508485, -4.8606708409), (9.2693157423, -3.1469936542))
        make_face()
        with BuildLine():
            ThreePointArc((6.566758563, -4.8755823674), (6.8627279114, -6.02806372), (7.4355185476, -7.0710028411))
            add(Edge.make_bspline(
                [(8.4941508485, -4.8606708409), (8.1478821914, -5.6023155821), (7.794902423, -6.3405404588), (7.4355185476, -7.0710028411)],
                knots=[0.523747336, 0.523747336, 0.523747336, 0.523747336, 0.535267871, 0.535267871, 0.535267871, 0.535267871], degree=3))
            Line((8.4941508485, -4.8606708409), (6.566758563, -4.8755823674))
        make_face()
        with BuildLine():
            add(Edge.make_bspline(
                [(9.2803586904, -3.1469082189), (9.0223449366, -3.7188681677), (8.7602292245, -4.2907791563), (8.4941508485, -4.8606708409)],
                knots=[0.5148947726, 0.5148947726, 0.5148947726, 0.5148947726, 0.523747336, 0.523747336, 0.523747336, 0.523747336], degree=3))
            Line((9.2803586904, -3.1469082189), (9.2693157423, -3.1469936542))
            Line((9.2693157423, -3.1469936542), (8.4941508485, -4.8606708409))
        make_face()
        with BuildLine():
            add(Edge.make_bspline(
                [(9.9542651309, -1.6327582306), (9.7328930129, -2.1366082535), (9.5082255491, -2.6417773299), (9.2803586904, -3.1469082189)],
                knots=[0.5070765622, 0.5070765622, 0.5070765622, 0.5070765622, 0.5148947726, 0.5148947726, 0.5148947726, 0.5148947726], degree=3))
            Line((9.9542651309, -1.6327582306), (9.2744107453, -3.1357299984))
            Line((9.2744107453, -3.1357299984), (9.2803586904, -3.1469082189))
        make_face()
    extrude(amount=F3_DEPTH)


with BuildPart() as f3c:
    # F0 (on Top) → F3, piece 3 (new body)
    with BuildSketch(Plane.XY):
        with BuildLine():
            add(Edge.make_bspline(
                [(-26.4588086965, -1.6327582306), (-26.7965816425, -1.0415865773), (-27.1292357806, -0.4532398186), (-27.4563565011, 0.12991348)],
                knots=[0.8311142836, 0.8311142836, 0.8311142836, 0.8311142836, 0.8408235096, 0.8408235096, 0.8408235096, 0.8408235096], degree=3))
            ThreePointArc((-27.4563565011, 0.12991348), (-31.6597448399, -7.1434188848), (-23.2601161425, -7.0166318167))
            add(Edge.make_bspline(
                [(-23.2601161425, -7.0166318167), (-23.6519614722, -6.3869006492), (-24.039354187, -5.7521561255), (-24.421781211, -5.1153293237)],
                knots=[0.8017052217, 0.8017052217, 0.8017052217, 0.8017052217, 0.8121291624, 0.8121291624, 0.8121291624, 0.8121291624], degree=3))
            add(Edge.make_bspline(
                [(-24.421781211, -5.1153293237), (-24.7614781399, -4.5496577178), (-25.0972570567, -3.9823431601), (-25.428758369, -3.4154399158)],
                knots=[0.8121291624, 0.8121291624, 0.8121291624, 0.8121291624, 0.8213883947, 0.8213883947, 0.8213883947, 0.8213883947], degree=3))
            add(Edge.make_bspline(
                [(-25.428758369, -3.4154399158), (-25.7769670388, -2.8199652758), (-26.120456064, -2.2249444536), (-26.4588086965, -1.6327582306)],
                knots=[0.8213883947, 0.8213883947, 0.8213883947, 0.8213883947, 0.8311142836, 0.8311142836, 0.8311142836, 0.8311142836], degree=3))
        make_face()
        with BuildLine():
            Line((-26.4588086965, -1.6327582306), (-25.5584577312, -0.2756550339))
            ThreePointArc((-25.5584577312, -0.2756550339), (-26.4868209399, 0.0234643115), (-27.4563565011, 0.12991348))
            add(Edge.make_bspline(
                [(-26.4588086965, -1.6327582306), (-26.7965816425, -1.0415865773), (-27.1292357806, -0.4532398186), (-27.4563565011, 0.12991348)],
                knots=[0.8311142836, 0.8311142836, 0.8311142836, 0.8311142836, 0.8408235096, 0.8408235096, 0.8408235096, 0.8408235096], degree=3))
        make_face()
        with BuildLine():
            ThreePointArc((-24.0416144553, -1.3245914444), (-24.7494930119, -0.7270340296), (-25.5584577312, -0.2756550339))
            Line((-25.5584577312, -0.2756550339), (-26.4588086965, -1.6327582306))
            Line((-26.4588086965, -1.6327582306), (-25.4220212793, -3.4052850691))
            Line((-25.4220212793, -3.4052850691), (-24.0416144553, -1.3245914444))
        make_face()
        with BuildLine():
            ThreePointArc((-22.8464301162, -3.3954613901), (-23.3138138733, -2.2848777795), (-24.0416144553, -1.3245914444))
            Line((-24.0416144553, -1.3245914444), (-25.4220212793, -3.4052850691))
            Line((-25.4220212793, -3.4052850691), (-25.4161386089, -3.4153422814))
            Line((-25.4161386089, -3.4153422814), (-22.8464301162, -3.3954613901))
        make_face()
        with BuildLine():
            ThreePointArc((-22.6672834673, -4.6985191293), (-22.7122797835, -4.0408617349), (-22.8464301162, -3.3954613901))
            Line((-22.8464301162, -3.3954613901), (-25.4161386089, -3.4153422814))
            Line((-25.4161386089, -3.4153422814), (-24.421781211, -5.1153293237))
            Line((-24.421781211, -5.1153293237), (-22.6841610167, -5.1018859941))
            ThreePointArc((-22.6841610167, -5.1018859941), (-22.6715046998, -4.9003790308), (-22.6672834673, -4.6985191293))
        make_face()
        with BuildLine():
            add(Edge.make_bspline(
                [(-23.2601161425, -7.0166318167), (-23.6519614722, -6.3869006492), (-24.039354187, -5.7521561255), (-24.421781211, -5.1153293237)],
                knots=[0.8017052217, 0.8017052217, 0.8017052217, 0.8017052217, 0.8121291624, 0.8121291624, 0.8121291624, 0.8121291624], degree=3))
            ThreePointArc((-23.2601161425, -7.0166318167), (-22.8719423093, -6.0893979217), (-22.6841610167, -5.1018859941))
            Line((-22.6841610167, -5.1018859941), (-24.421781211, -5.1153293237))
        make_face()
        with BuildLine():
            Line((-25.4220212793, -3.4052850691), (-26.4588086965, -1.6327582306))
            add(Edge.make_bspline(
                [(-25.428758369, -3.4154399158), (-25.7769670388, -2.8199652758), (-26.120456064, -2.2249444536), (-26.4588086965, -1.6327582306)],
                knots=[0.8213883947, 0.8213883947, 0.8213883947, 0.8213883947, 0.8311142836, 0.8311142836, 0.8311142836, 0.8311142836], degree=3))
            Line((-25.428758369, -3.4154399158), (-25.4220212793, -3.4052850691))
        make_face()
        with BuildLine():
            Line((-25.4161386089, -3.4153422814), (-25.428758369, -3.4154399158))
            add(Edge.make_bspline(
                [(-24.421781211, -5.1153293237), (-24.7614781399, -4.5496577178), (-25.0972570567, -3.9823431601), (-25.428758369, -3.4154399158)],
                knots=[0.8121291624, 0.8121291624, 0.8121291624, 0.8121291624, 0.8213883947, 0.8213883947, 0.8213883947, 0.8213883947], degree=3))
            Line((-24.421781211, -5.1153293237), (-25.4161386089, -3.4153422814))
        make_face()
    extrude(amount=F3_DEPTH)


solid = Compound([f1.part, f1b.part, f1c.part, f1d.part, f2.part, f2b.part, f2c.part, f2d.part, f2e.part, f2f.part, f3.part, f3b.part, f3c.part])
